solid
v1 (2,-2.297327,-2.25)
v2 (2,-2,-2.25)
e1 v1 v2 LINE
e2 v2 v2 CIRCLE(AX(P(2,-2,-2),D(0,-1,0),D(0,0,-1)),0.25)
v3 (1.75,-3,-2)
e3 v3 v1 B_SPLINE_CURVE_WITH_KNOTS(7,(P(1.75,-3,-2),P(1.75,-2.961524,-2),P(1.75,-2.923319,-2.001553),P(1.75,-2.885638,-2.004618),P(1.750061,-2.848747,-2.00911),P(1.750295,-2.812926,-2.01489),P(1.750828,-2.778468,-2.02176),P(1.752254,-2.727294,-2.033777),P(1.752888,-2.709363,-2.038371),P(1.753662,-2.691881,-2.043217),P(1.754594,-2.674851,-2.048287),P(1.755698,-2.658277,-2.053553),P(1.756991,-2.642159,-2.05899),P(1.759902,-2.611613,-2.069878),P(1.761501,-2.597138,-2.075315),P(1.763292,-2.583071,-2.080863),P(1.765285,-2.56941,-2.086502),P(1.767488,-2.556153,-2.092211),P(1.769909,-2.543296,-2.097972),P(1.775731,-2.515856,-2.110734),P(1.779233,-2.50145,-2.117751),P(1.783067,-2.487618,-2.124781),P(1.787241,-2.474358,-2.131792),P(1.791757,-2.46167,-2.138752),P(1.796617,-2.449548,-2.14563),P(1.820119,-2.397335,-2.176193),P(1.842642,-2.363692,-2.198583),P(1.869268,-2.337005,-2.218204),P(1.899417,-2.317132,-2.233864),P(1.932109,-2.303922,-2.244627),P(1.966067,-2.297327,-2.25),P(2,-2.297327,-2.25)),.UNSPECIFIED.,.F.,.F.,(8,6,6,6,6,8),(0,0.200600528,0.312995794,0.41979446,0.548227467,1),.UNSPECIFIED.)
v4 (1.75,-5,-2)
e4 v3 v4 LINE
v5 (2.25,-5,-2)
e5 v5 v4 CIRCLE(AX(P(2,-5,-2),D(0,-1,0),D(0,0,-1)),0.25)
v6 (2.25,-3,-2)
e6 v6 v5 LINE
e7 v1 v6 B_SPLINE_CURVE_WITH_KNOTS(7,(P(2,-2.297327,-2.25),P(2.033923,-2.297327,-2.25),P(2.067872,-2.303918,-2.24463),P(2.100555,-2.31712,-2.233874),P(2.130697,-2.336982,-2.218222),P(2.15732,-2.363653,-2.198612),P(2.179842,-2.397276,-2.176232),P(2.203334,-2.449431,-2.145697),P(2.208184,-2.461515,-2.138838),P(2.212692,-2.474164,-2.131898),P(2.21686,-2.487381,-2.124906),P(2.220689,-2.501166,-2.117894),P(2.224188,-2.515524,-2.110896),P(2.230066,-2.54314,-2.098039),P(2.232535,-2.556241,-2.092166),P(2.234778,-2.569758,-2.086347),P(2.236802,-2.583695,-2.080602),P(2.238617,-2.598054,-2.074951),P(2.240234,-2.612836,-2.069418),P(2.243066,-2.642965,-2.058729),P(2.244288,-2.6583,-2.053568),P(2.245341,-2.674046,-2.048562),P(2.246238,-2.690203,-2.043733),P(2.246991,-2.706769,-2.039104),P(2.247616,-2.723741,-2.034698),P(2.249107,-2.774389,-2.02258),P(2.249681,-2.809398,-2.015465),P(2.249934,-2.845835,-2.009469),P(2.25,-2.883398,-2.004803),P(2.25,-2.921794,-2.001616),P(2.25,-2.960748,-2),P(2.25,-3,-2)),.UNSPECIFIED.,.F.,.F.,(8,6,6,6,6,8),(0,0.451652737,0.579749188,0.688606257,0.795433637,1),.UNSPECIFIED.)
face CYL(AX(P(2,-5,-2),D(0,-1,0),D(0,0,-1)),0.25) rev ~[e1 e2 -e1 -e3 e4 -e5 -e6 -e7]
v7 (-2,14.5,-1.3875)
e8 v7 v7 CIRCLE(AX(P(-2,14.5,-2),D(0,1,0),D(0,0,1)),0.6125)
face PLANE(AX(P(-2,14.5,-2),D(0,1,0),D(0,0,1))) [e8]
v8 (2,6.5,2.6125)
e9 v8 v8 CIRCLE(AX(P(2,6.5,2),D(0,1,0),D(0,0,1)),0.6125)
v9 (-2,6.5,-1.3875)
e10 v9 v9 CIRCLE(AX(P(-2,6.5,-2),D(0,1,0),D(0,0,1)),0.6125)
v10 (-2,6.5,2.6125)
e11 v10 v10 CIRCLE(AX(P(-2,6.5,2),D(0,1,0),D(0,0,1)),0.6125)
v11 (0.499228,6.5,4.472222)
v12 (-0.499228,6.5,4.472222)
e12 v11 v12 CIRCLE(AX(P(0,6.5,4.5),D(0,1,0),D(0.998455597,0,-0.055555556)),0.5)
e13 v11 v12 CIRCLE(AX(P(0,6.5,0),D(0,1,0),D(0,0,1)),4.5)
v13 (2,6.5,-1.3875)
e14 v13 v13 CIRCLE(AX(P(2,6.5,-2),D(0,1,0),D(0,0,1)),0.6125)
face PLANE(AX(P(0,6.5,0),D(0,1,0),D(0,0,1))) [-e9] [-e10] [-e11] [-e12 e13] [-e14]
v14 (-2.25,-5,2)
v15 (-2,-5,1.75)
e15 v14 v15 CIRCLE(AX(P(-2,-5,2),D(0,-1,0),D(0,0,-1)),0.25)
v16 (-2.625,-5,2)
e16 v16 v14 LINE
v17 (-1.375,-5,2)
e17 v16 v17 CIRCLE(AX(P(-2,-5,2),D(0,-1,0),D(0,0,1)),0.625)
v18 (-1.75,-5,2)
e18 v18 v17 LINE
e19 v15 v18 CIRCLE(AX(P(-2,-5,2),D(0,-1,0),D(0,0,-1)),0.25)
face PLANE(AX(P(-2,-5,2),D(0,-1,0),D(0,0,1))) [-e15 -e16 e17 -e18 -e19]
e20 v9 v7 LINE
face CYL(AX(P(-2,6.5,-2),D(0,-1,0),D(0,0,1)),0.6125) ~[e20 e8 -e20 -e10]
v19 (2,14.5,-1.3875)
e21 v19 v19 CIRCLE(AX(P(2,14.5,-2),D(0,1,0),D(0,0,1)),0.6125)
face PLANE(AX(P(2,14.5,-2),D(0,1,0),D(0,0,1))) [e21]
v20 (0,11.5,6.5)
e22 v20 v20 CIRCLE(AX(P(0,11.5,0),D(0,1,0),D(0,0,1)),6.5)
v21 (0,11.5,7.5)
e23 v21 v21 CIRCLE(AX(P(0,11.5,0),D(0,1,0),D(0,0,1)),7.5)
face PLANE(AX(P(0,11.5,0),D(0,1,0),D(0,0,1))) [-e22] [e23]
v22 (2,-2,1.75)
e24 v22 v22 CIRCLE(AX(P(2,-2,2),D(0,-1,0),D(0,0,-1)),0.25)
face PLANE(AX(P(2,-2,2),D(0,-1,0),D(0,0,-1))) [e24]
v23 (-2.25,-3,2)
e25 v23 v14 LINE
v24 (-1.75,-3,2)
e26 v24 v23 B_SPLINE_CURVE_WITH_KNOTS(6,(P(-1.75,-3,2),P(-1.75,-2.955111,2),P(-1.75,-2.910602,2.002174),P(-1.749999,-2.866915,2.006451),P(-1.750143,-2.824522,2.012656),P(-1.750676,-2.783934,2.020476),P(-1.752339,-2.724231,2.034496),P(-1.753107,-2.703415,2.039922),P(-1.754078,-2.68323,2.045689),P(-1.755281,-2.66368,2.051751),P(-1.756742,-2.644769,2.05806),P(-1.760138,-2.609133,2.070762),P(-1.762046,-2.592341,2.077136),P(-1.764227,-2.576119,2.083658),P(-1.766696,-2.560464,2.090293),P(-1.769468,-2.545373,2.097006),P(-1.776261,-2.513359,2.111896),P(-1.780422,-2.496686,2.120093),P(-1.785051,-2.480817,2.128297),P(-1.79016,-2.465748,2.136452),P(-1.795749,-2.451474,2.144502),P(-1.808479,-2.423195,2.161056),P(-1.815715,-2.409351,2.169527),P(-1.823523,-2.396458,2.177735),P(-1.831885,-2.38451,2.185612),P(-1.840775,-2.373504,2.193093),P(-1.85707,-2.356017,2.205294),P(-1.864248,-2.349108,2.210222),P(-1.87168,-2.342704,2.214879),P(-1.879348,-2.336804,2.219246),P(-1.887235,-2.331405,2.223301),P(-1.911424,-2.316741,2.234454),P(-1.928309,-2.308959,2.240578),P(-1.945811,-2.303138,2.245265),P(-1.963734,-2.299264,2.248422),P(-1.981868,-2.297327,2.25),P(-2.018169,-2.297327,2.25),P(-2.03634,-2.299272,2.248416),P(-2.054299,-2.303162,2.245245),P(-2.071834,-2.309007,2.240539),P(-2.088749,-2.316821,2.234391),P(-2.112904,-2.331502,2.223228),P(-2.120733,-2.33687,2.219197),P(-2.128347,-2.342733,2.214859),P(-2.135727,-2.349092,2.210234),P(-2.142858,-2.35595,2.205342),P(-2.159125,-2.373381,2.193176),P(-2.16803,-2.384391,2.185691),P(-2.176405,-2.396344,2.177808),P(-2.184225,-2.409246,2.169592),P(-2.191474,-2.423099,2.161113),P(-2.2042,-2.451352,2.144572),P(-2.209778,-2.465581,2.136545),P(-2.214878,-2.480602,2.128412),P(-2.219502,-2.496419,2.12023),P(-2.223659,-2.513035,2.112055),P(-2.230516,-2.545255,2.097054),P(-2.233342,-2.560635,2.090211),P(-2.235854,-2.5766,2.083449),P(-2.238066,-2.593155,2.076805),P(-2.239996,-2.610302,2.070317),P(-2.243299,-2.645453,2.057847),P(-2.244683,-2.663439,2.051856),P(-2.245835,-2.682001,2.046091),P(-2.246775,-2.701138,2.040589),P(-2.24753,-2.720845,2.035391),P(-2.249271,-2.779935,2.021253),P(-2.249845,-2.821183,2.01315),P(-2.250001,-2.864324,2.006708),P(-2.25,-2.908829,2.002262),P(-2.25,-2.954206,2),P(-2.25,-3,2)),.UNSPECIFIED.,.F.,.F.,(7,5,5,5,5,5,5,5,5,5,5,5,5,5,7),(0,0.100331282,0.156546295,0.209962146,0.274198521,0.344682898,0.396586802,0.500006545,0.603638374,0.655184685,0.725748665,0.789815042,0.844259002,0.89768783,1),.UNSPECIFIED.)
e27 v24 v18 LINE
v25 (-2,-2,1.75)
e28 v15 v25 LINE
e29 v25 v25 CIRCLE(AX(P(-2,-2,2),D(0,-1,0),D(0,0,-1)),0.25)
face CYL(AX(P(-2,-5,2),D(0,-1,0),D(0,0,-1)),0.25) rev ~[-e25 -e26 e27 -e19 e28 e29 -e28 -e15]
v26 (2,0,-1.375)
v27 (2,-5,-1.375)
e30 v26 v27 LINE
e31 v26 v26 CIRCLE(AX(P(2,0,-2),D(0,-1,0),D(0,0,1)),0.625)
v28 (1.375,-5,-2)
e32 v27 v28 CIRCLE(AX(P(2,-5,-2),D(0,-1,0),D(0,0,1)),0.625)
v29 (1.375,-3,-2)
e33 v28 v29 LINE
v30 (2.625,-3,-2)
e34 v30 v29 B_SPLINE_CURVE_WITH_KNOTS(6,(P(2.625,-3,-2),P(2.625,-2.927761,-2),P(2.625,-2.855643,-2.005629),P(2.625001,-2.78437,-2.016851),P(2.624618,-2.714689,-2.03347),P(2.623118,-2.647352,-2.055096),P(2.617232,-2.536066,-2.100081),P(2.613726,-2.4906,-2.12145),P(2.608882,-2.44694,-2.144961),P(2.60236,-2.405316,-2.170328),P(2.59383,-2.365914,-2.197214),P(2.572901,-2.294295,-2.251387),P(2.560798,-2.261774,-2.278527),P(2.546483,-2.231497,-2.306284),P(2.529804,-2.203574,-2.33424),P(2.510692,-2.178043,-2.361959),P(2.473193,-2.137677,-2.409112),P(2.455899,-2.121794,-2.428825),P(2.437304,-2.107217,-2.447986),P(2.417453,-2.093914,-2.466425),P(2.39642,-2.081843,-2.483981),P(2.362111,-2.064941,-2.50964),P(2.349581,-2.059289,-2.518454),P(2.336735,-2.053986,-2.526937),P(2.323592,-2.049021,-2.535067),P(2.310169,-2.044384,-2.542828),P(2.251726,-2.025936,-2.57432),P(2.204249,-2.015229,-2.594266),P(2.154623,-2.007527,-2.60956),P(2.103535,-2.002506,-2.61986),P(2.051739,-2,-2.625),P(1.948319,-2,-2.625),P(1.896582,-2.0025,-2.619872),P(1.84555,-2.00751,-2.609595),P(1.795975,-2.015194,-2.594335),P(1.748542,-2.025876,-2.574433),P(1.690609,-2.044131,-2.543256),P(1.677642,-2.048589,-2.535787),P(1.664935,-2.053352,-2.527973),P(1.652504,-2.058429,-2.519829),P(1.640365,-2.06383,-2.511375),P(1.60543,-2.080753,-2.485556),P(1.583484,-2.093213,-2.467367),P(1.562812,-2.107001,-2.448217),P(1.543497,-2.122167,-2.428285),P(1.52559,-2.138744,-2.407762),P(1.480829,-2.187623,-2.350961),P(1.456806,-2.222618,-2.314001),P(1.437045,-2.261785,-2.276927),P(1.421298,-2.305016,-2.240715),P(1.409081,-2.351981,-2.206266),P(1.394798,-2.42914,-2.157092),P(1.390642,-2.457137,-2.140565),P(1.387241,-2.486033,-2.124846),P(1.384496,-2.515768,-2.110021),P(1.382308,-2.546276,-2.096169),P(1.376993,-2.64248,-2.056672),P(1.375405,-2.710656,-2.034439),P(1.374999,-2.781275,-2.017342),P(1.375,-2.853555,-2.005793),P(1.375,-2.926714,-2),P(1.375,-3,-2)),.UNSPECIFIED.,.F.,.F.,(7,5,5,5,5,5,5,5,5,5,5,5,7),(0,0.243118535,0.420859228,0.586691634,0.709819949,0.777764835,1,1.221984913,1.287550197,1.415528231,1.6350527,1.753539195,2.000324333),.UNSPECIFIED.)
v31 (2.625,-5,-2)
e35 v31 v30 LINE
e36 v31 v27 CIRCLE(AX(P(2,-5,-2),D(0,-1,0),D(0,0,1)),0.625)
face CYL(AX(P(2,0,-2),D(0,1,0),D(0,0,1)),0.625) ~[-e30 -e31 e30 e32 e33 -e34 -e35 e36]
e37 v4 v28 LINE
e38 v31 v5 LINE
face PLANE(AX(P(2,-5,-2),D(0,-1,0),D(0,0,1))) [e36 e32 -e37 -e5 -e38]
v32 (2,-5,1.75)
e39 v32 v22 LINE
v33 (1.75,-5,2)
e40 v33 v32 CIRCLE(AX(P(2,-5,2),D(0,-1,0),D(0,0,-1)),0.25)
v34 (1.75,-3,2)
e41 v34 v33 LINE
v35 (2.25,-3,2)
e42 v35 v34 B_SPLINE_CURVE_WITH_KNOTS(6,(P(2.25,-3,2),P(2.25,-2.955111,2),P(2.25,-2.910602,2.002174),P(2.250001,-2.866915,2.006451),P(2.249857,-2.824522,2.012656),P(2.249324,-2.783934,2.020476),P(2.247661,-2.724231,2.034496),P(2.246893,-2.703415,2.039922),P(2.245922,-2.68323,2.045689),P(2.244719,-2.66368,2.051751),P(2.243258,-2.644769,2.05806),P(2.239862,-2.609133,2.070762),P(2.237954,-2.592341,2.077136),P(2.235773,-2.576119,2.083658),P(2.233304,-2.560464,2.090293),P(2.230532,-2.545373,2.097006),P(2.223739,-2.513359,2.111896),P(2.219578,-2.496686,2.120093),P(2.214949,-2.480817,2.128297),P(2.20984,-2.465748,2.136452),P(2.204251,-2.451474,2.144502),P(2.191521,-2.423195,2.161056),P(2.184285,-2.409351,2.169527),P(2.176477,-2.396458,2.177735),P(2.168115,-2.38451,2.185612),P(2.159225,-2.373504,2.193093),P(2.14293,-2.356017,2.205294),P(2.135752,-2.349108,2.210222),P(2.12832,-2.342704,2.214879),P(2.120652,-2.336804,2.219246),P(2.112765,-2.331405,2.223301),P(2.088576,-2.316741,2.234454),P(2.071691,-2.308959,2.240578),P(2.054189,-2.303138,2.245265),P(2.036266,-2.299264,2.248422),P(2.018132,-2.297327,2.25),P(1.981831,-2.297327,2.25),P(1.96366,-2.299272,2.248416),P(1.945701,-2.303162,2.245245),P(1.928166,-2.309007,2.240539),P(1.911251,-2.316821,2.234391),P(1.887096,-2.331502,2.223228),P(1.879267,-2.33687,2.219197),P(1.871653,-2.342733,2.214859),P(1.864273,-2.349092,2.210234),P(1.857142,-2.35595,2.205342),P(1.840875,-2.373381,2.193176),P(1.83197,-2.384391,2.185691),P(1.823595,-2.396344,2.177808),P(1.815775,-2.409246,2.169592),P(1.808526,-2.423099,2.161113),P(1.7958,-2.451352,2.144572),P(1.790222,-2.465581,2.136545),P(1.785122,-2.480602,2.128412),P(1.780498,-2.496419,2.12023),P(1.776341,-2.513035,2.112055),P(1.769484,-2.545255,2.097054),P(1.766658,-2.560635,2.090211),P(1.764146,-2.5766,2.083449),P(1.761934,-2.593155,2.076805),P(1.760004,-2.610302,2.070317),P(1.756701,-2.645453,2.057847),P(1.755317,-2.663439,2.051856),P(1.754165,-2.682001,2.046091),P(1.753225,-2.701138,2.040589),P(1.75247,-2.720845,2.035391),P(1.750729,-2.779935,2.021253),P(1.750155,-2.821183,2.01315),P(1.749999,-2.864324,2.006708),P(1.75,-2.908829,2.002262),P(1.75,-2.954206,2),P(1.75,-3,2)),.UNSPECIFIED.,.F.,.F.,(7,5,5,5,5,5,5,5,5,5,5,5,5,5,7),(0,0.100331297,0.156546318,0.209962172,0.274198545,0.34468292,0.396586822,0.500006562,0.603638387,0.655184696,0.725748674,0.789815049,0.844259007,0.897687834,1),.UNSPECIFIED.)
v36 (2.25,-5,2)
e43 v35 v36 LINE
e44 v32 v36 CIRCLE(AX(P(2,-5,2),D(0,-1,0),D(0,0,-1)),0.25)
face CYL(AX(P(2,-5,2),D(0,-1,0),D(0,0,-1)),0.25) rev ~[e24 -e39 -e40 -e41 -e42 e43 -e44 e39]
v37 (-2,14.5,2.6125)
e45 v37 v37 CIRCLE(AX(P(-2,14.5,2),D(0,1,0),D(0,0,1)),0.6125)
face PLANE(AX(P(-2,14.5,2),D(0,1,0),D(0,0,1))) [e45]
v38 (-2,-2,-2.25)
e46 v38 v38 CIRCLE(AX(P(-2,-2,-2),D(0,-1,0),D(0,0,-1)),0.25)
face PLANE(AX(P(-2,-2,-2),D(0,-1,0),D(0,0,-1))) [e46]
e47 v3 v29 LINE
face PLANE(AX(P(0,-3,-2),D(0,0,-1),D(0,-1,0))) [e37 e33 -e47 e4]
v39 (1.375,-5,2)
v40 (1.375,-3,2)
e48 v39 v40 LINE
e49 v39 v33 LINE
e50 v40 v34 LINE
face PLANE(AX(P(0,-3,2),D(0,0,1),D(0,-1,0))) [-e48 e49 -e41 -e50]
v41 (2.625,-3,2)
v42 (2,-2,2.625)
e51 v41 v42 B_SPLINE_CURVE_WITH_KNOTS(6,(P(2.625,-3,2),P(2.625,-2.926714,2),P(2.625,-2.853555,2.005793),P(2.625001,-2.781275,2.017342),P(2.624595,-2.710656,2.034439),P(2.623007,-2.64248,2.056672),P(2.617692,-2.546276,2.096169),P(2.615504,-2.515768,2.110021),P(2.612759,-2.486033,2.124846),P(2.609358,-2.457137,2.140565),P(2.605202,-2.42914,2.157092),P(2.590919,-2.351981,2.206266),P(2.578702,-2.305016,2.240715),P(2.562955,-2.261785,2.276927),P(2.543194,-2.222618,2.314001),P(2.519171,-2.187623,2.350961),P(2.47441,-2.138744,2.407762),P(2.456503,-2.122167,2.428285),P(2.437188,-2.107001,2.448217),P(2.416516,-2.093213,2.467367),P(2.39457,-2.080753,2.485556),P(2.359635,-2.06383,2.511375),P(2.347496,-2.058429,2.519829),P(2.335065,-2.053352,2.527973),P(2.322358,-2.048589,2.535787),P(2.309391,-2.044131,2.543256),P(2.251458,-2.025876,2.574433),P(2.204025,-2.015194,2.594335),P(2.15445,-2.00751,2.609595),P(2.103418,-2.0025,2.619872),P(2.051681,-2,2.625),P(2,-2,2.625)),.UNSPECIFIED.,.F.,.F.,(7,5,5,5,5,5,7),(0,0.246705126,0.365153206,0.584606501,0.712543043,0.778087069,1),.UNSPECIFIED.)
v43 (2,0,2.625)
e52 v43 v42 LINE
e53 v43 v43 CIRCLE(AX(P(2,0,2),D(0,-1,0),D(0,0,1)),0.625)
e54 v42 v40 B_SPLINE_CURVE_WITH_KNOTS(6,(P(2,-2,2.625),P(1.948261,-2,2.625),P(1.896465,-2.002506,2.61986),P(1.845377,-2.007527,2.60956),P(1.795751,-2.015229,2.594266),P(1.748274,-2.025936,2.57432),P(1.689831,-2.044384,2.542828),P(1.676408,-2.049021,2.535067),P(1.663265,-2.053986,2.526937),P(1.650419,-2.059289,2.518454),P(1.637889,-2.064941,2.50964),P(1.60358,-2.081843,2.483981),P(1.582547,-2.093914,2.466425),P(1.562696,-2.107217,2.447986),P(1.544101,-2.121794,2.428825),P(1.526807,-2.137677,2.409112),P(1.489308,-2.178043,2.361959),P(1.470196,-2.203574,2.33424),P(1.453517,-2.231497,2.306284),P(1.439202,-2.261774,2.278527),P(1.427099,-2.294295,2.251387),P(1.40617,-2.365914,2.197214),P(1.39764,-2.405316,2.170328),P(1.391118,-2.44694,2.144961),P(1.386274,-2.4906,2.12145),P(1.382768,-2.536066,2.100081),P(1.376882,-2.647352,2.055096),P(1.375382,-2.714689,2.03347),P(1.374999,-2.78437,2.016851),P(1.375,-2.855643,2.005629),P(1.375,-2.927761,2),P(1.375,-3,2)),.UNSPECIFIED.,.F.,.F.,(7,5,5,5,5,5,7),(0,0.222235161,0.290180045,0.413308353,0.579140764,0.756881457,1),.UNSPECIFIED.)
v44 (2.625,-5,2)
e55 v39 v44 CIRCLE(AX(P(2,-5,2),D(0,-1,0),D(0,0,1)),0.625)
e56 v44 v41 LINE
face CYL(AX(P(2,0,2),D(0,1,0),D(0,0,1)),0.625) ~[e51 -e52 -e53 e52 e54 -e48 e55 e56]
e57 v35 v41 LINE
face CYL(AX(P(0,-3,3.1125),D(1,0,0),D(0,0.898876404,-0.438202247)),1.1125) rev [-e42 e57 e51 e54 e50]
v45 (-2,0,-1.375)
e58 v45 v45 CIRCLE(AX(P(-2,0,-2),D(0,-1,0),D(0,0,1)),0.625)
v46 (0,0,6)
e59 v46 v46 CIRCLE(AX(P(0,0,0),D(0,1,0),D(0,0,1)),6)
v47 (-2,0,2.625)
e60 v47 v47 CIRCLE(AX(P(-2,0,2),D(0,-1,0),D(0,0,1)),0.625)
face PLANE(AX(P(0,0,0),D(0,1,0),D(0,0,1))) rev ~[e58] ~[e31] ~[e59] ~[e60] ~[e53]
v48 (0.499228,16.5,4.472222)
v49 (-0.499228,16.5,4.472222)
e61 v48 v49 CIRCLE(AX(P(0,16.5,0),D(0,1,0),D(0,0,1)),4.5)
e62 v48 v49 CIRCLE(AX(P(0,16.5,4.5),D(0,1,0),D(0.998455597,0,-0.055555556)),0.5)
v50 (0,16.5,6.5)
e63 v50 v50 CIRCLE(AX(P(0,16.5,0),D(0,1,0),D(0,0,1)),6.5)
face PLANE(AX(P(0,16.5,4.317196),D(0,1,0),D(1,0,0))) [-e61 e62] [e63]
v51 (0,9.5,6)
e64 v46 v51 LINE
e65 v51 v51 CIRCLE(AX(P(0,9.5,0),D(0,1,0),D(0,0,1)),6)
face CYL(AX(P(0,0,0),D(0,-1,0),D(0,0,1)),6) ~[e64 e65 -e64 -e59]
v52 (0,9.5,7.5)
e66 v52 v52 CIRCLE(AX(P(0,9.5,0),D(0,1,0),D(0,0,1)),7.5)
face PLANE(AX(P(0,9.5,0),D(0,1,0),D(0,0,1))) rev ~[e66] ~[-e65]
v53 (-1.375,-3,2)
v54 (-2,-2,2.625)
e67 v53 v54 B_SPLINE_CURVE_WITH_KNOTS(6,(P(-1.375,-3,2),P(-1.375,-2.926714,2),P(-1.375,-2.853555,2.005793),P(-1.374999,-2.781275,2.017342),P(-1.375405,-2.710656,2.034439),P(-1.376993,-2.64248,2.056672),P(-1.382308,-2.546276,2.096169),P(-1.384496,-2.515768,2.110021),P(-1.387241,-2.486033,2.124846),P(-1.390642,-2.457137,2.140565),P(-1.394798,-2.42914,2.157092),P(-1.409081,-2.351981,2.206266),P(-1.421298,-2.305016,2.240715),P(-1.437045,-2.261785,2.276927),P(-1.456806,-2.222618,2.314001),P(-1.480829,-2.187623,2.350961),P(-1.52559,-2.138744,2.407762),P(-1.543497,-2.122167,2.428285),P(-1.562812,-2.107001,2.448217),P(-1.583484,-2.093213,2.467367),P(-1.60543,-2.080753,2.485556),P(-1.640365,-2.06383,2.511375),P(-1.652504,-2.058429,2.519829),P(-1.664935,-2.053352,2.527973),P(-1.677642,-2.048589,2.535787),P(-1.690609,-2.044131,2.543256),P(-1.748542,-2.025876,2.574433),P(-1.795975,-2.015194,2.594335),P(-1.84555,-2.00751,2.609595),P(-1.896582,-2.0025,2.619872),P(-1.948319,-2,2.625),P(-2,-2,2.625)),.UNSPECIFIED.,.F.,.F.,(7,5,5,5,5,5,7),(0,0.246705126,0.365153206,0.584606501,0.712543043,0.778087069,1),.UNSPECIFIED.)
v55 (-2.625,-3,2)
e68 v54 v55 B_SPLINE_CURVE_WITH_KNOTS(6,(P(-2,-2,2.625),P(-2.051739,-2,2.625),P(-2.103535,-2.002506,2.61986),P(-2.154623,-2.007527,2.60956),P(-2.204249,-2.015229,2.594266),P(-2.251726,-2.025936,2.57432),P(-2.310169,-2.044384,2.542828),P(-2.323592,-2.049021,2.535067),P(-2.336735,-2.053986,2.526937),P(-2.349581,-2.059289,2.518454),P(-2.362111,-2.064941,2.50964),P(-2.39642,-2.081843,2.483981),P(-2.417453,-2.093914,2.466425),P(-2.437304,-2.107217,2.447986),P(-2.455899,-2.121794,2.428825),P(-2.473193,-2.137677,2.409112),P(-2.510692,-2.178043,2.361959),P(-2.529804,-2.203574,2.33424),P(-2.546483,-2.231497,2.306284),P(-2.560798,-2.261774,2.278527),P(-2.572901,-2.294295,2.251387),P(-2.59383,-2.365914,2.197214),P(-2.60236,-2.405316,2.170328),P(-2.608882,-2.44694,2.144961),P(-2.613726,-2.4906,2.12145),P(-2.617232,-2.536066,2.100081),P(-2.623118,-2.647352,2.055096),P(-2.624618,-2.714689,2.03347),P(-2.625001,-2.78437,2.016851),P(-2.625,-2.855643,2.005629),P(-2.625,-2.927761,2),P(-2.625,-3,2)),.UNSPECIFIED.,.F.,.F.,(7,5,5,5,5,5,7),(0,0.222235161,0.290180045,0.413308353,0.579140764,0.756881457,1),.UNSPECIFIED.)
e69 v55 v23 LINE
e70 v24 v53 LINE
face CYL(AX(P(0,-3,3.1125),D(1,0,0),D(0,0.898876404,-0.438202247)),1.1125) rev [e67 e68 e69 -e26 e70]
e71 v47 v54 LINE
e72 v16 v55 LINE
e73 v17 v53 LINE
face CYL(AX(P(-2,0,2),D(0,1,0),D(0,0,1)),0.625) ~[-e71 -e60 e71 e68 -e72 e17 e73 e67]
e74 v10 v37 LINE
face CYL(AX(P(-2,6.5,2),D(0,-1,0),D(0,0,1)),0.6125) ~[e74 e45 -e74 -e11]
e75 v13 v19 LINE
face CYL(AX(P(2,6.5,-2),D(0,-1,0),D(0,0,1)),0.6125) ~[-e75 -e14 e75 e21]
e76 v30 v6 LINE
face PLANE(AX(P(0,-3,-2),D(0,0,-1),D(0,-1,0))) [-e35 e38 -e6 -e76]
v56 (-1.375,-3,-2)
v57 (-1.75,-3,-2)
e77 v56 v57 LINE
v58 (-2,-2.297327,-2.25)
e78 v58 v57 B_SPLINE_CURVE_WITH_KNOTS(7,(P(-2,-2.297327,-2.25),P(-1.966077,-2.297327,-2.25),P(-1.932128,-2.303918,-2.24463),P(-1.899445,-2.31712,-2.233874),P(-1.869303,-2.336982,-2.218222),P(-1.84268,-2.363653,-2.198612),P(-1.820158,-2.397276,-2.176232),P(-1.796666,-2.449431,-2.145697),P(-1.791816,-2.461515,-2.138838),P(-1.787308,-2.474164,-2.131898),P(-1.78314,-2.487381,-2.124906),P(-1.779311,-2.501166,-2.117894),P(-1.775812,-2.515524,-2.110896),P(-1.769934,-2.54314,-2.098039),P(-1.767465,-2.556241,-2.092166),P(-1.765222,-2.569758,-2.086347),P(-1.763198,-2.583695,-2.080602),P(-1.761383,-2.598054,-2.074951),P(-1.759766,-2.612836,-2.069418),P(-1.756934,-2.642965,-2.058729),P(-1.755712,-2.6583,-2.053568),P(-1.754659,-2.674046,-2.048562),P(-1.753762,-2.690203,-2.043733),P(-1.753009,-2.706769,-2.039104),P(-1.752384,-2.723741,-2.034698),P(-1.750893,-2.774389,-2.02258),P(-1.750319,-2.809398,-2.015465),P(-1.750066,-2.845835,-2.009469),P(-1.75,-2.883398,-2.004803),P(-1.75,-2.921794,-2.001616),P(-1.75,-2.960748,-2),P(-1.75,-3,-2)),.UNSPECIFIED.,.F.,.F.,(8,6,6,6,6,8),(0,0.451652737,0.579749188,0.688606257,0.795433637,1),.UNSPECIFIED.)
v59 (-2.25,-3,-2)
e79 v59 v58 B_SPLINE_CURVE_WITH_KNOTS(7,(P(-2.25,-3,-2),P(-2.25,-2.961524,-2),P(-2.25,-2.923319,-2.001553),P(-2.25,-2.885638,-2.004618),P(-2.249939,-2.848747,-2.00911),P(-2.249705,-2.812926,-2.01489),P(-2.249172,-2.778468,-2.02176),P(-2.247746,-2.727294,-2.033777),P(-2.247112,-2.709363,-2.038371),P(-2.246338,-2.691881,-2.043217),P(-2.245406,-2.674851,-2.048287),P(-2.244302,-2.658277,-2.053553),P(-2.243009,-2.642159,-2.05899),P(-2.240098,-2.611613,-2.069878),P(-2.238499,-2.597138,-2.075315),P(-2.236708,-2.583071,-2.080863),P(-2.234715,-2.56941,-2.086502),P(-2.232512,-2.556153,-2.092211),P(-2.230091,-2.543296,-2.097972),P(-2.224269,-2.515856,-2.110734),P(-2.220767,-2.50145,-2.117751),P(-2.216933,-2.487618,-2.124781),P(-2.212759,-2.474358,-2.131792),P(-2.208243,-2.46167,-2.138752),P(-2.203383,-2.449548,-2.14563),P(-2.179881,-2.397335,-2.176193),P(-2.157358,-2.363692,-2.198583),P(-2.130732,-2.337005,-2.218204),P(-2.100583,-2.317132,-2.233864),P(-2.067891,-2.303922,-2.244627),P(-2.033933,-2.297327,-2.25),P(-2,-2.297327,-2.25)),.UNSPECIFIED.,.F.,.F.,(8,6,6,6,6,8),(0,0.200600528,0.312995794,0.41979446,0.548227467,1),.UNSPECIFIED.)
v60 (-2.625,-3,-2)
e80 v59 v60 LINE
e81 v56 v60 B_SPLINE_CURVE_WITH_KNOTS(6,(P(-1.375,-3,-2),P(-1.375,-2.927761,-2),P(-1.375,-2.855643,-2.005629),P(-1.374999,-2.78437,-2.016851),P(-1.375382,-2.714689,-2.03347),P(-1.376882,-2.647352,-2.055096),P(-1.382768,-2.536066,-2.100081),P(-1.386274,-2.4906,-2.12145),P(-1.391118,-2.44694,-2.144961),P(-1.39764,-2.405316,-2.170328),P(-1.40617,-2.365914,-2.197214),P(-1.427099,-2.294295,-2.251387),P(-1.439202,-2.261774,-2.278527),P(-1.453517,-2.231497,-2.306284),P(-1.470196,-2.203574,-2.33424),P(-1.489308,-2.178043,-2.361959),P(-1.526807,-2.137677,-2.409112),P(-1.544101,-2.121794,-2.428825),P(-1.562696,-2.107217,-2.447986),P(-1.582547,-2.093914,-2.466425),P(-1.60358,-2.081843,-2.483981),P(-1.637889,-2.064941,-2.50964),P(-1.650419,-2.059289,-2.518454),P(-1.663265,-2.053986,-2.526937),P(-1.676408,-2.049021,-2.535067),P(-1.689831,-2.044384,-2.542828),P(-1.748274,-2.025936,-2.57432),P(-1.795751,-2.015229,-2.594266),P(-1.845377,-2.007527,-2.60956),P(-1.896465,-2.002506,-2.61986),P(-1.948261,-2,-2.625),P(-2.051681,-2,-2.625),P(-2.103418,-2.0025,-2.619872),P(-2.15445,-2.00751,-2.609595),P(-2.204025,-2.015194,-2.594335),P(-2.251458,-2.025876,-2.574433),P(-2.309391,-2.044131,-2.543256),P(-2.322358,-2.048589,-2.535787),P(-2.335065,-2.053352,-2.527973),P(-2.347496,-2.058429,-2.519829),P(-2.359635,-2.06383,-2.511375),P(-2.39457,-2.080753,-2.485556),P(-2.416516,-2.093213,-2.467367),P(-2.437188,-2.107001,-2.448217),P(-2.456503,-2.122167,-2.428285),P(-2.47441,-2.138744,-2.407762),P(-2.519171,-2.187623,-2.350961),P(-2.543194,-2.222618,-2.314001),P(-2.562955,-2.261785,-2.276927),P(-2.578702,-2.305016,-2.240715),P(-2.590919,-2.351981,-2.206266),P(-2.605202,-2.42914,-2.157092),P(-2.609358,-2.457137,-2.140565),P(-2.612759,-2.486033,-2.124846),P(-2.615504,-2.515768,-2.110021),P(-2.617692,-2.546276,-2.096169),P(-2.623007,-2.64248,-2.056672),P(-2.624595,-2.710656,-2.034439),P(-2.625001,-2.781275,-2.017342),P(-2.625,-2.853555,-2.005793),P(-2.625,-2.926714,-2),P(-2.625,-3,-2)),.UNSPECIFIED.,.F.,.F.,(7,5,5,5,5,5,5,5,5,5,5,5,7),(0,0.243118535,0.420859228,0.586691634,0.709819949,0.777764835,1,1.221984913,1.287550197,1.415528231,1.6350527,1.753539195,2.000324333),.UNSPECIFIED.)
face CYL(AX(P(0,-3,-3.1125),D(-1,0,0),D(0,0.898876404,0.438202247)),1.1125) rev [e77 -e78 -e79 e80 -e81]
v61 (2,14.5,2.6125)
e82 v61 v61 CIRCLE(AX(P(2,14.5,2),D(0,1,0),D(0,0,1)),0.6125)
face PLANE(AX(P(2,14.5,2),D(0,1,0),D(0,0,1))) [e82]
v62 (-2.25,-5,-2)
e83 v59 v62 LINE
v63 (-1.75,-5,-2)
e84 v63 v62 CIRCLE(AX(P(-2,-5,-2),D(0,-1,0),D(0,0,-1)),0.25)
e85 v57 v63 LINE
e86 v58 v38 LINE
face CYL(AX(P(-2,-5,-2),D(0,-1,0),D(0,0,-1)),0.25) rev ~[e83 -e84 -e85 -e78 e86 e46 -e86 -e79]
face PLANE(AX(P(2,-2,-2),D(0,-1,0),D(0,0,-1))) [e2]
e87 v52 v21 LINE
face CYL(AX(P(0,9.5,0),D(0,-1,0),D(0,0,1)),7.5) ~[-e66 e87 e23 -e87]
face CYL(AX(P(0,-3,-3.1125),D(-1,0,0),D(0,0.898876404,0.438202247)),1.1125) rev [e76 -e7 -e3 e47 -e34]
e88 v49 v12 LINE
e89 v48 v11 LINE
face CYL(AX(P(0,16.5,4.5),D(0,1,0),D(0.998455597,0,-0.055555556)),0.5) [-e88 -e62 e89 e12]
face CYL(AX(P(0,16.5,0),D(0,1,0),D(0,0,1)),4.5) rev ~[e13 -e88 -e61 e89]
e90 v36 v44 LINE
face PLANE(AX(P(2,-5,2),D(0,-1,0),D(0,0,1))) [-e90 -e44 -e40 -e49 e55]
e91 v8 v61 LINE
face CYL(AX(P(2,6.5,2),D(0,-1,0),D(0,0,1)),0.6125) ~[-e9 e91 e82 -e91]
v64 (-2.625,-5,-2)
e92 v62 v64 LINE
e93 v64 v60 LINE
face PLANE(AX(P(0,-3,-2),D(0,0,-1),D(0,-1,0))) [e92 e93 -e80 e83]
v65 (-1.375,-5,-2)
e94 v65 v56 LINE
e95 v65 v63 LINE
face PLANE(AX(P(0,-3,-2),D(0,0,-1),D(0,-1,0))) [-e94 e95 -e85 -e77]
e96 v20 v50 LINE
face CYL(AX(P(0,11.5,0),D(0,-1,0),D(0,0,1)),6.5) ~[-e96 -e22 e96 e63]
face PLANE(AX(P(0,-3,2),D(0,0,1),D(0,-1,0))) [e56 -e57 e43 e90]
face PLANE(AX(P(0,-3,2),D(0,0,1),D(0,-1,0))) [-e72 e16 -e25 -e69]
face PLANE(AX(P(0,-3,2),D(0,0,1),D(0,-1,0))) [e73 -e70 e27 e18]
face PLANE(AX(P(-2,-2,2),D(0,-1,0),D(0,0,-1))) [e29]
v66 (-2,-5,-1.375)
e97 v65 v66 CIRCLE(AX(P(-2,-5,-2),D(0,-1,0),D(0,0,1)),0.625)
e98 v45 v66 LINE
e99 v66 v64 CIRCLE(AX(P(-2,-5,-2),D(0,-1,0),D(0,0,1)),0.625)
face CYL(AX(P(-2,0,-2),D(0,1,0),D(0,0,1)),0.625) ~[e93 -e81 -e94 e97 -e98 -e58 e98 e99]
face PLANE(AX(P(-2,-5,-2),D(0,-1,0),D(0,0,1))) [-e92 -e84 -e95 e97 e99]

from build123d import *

# Parameters (mm, degrees)
SKETCH_1_R          = 6
EXTRUDE_1_DEPTH     = 9.5
SKETCH_2_R          = 7.5
EXTRUDE_2_DEPTH     = 2
SKETCH_3_R          = 6.5
EXTRUDE_3_DEPTH     = 5
SKETCH_4_R          = 4.5
CUT_EXTRUDE_1_DEPTH = 10
EXTRUDE_START       = 10
EXTRUDE_4_DEPTH     = 10
SKETCH_6_R          = 0.6125
EXTRUDE_5_DEPTH     = 8
SKETCH_7_R          = 0.625
EXTRUDE_6_DEPTH     = 5
SKETCH_8_R          = 0.25
CUT_EXTRUDE_2_DEPTH = 3
CUT_EXTRUDE_3_DEPTH = 10


with BuildPart() as part:
    # Эскиз1 → Бобышка-Вытянуть1 (new body)
    with BuildSketch(Plane(origin=(0, 0, 0), x_dir=(1, 0, 0), z_dir=(0, 1, 0))):
        with Locations(Location((0, 0, 0), (0, 0, 270))):
            Circle(SKETCH_1_R)
    extrude(amount=EXTRUDE_1_DEPTH)

    # Эскиз2 → Бобышка-Вытянуть2 (add)
    with BuildSketch(Plane(origin=(0, 9.5, 0), x_dir=(1, 0, 0), z_dir=(0, 1, 0))):
        with Locations(Location((0, 0, 0), (0, 0, 270))):
            Circle(SKETCH_2_R)
    extrude(amount=EXTRUDE_2_DEPTH)

    # Эскиз3 → Бобышка-Вытянуть3 (add)
    with BuildSketch(Plane(origin=(0, 11.5, 0), x_dir=(1, 0, 0), z_dir=(0, 1, 0))):
        with Locations(Location((0, 0, 0), (0, 0, 270))):
            Circle(SKETCH_3_R)
    extrude(amount=EXTRUDE_3_DEPTH)

    # Эскиз4 → Вырез-Вытянуть1 (cut)
    with BuildSketch(Plane(origin=(0, 16.5, 0), x_dir=(1, 0, 0), z_dir=(0, 1, 0))):
        with Locations(Location((0, 0, 0), (0, 0, 270))):
            Circle(SKETCH_4_R)
    extrude(amount=-CUT_EXTRUDE_1_DEPTH, mode=Mode.SUBTRACT)

    # Эскиз5 → Бобышка-Вытянуть4 (add)
    with BuildSketch(Plane(origin=(0, 6.5, 0), x_dir=(1, 0, 0), z_dir=(0, 1, 0)).offset(EXTRUDE_START)):
        with BuildLine():
            ThreePointArc((-0.499227799, -4.472222222), (0, -4.5), (0.499227799, -4.472222222))
            ThreePointArc((0.499227799, -4.472222222), (0, -4), (-0.499227799, -4.472222222))
        make_face()
    extrude(amount=-EXTRUDE_4_DEPTH)

    # Эскиз6 → Бобышка-Вытянуть5 (add)
    with BuildSketch(Plane(origin=(0, 6.5, 0), x_dir=(1, 0, 0), z_dir=(0, 1, 0))):
        with Locations(Location((-2, 2, 0), (0, 0, 270))):
            Circle(SKETCH_6_R)
        with Locations(Location((-2, -2, 0), (0, 0, 270))):
            Circle(SKETCH_6_R)
        with Locations(Location((2, -2, 0), (0, 0, 270))):
            Circle(SKETCH_6_R)
        with Locations(Location((2, 2, 0), (0, 0, 270))):
            Circle(SKETCH_6_R)
    extrude(amount=EXTRUDE_5_DEPTH)

    # Эскиз7 → Бобышка-Вытянуть6 (add)
    with BuildSketch(Plane.XZ):
        with Locations(Location((2, -2, 0), (0, 0, 90))):
            Circle(SKETCH_7_R)
        with Locations(Location((-2, -2, 0), (0, 0, 90))):
            Circle(SKETCH_7_R)
        with Locations(Location((-2, 2, 0), (0, 0, 90))):
            Circle(SKETCH_7_R)
        with Locations(Location((2, 2, 0), (0, 0, 90))):
            Circle(SKETCH_7_R)
    extrude(amount=EXTRUDE_6_DEPTH)

    # Эскиз8 → Вырез-Вытянуть2 (cut)
    with BuildSketch(Plane.XZ.offset(5)):
        with Locations(Location((2, -2, 0), (0, 0, 270))):
            Circle(SKETCH_8_R)
        with Locations(Location((-2, -2, 0), (0, 0, 270))):
            Circle(SKETCH_8_R)
        with Locations(Location((-2, 2, 0), (0, 0, 270))):
            Circle(SKETCH_8_R)
        with Locations(Location((2, 2, 0), (0, 0, 270))):
            Circle(SKETCH_8_R)
    extrude(amount=-CUT_EXTRUDE_2_DEPTH, mode=Mode.SUBTRACT)

    # Эскиз9 → Вырез-Вытянуть3 (cut, symmetric)
    with BuildSketch(Plane(origin=(0, 0, 0), x_dir=(0, 0, -1), z_dir=(1, 0, 0))):
        with BuildLine():
            Line((2, -5), (2.625, -5))
            Line((2.625, -5), (2.625, -2))
            ThreePointArc((2.625, -2), (2.169101887, -2.410376179), (2, -3))
            Line((2, -3), (2, -5))
        make_face()
        with BuildLine():
            Line((-2, -5), (-2.625, -5))
            Line((-2.625, -5), (-2.625, -2))
            ThreePointArc((-2.625, -2), (-2.169101887, -2.410376179), (-2, -3))
            Line((-2, -3), (-2, -5))
        make_face()
    extrude(amount=CUT_EXTRUDE_3_DEPTH, both=True, mode=Mode.SUBTRACT)


solid = part.part
